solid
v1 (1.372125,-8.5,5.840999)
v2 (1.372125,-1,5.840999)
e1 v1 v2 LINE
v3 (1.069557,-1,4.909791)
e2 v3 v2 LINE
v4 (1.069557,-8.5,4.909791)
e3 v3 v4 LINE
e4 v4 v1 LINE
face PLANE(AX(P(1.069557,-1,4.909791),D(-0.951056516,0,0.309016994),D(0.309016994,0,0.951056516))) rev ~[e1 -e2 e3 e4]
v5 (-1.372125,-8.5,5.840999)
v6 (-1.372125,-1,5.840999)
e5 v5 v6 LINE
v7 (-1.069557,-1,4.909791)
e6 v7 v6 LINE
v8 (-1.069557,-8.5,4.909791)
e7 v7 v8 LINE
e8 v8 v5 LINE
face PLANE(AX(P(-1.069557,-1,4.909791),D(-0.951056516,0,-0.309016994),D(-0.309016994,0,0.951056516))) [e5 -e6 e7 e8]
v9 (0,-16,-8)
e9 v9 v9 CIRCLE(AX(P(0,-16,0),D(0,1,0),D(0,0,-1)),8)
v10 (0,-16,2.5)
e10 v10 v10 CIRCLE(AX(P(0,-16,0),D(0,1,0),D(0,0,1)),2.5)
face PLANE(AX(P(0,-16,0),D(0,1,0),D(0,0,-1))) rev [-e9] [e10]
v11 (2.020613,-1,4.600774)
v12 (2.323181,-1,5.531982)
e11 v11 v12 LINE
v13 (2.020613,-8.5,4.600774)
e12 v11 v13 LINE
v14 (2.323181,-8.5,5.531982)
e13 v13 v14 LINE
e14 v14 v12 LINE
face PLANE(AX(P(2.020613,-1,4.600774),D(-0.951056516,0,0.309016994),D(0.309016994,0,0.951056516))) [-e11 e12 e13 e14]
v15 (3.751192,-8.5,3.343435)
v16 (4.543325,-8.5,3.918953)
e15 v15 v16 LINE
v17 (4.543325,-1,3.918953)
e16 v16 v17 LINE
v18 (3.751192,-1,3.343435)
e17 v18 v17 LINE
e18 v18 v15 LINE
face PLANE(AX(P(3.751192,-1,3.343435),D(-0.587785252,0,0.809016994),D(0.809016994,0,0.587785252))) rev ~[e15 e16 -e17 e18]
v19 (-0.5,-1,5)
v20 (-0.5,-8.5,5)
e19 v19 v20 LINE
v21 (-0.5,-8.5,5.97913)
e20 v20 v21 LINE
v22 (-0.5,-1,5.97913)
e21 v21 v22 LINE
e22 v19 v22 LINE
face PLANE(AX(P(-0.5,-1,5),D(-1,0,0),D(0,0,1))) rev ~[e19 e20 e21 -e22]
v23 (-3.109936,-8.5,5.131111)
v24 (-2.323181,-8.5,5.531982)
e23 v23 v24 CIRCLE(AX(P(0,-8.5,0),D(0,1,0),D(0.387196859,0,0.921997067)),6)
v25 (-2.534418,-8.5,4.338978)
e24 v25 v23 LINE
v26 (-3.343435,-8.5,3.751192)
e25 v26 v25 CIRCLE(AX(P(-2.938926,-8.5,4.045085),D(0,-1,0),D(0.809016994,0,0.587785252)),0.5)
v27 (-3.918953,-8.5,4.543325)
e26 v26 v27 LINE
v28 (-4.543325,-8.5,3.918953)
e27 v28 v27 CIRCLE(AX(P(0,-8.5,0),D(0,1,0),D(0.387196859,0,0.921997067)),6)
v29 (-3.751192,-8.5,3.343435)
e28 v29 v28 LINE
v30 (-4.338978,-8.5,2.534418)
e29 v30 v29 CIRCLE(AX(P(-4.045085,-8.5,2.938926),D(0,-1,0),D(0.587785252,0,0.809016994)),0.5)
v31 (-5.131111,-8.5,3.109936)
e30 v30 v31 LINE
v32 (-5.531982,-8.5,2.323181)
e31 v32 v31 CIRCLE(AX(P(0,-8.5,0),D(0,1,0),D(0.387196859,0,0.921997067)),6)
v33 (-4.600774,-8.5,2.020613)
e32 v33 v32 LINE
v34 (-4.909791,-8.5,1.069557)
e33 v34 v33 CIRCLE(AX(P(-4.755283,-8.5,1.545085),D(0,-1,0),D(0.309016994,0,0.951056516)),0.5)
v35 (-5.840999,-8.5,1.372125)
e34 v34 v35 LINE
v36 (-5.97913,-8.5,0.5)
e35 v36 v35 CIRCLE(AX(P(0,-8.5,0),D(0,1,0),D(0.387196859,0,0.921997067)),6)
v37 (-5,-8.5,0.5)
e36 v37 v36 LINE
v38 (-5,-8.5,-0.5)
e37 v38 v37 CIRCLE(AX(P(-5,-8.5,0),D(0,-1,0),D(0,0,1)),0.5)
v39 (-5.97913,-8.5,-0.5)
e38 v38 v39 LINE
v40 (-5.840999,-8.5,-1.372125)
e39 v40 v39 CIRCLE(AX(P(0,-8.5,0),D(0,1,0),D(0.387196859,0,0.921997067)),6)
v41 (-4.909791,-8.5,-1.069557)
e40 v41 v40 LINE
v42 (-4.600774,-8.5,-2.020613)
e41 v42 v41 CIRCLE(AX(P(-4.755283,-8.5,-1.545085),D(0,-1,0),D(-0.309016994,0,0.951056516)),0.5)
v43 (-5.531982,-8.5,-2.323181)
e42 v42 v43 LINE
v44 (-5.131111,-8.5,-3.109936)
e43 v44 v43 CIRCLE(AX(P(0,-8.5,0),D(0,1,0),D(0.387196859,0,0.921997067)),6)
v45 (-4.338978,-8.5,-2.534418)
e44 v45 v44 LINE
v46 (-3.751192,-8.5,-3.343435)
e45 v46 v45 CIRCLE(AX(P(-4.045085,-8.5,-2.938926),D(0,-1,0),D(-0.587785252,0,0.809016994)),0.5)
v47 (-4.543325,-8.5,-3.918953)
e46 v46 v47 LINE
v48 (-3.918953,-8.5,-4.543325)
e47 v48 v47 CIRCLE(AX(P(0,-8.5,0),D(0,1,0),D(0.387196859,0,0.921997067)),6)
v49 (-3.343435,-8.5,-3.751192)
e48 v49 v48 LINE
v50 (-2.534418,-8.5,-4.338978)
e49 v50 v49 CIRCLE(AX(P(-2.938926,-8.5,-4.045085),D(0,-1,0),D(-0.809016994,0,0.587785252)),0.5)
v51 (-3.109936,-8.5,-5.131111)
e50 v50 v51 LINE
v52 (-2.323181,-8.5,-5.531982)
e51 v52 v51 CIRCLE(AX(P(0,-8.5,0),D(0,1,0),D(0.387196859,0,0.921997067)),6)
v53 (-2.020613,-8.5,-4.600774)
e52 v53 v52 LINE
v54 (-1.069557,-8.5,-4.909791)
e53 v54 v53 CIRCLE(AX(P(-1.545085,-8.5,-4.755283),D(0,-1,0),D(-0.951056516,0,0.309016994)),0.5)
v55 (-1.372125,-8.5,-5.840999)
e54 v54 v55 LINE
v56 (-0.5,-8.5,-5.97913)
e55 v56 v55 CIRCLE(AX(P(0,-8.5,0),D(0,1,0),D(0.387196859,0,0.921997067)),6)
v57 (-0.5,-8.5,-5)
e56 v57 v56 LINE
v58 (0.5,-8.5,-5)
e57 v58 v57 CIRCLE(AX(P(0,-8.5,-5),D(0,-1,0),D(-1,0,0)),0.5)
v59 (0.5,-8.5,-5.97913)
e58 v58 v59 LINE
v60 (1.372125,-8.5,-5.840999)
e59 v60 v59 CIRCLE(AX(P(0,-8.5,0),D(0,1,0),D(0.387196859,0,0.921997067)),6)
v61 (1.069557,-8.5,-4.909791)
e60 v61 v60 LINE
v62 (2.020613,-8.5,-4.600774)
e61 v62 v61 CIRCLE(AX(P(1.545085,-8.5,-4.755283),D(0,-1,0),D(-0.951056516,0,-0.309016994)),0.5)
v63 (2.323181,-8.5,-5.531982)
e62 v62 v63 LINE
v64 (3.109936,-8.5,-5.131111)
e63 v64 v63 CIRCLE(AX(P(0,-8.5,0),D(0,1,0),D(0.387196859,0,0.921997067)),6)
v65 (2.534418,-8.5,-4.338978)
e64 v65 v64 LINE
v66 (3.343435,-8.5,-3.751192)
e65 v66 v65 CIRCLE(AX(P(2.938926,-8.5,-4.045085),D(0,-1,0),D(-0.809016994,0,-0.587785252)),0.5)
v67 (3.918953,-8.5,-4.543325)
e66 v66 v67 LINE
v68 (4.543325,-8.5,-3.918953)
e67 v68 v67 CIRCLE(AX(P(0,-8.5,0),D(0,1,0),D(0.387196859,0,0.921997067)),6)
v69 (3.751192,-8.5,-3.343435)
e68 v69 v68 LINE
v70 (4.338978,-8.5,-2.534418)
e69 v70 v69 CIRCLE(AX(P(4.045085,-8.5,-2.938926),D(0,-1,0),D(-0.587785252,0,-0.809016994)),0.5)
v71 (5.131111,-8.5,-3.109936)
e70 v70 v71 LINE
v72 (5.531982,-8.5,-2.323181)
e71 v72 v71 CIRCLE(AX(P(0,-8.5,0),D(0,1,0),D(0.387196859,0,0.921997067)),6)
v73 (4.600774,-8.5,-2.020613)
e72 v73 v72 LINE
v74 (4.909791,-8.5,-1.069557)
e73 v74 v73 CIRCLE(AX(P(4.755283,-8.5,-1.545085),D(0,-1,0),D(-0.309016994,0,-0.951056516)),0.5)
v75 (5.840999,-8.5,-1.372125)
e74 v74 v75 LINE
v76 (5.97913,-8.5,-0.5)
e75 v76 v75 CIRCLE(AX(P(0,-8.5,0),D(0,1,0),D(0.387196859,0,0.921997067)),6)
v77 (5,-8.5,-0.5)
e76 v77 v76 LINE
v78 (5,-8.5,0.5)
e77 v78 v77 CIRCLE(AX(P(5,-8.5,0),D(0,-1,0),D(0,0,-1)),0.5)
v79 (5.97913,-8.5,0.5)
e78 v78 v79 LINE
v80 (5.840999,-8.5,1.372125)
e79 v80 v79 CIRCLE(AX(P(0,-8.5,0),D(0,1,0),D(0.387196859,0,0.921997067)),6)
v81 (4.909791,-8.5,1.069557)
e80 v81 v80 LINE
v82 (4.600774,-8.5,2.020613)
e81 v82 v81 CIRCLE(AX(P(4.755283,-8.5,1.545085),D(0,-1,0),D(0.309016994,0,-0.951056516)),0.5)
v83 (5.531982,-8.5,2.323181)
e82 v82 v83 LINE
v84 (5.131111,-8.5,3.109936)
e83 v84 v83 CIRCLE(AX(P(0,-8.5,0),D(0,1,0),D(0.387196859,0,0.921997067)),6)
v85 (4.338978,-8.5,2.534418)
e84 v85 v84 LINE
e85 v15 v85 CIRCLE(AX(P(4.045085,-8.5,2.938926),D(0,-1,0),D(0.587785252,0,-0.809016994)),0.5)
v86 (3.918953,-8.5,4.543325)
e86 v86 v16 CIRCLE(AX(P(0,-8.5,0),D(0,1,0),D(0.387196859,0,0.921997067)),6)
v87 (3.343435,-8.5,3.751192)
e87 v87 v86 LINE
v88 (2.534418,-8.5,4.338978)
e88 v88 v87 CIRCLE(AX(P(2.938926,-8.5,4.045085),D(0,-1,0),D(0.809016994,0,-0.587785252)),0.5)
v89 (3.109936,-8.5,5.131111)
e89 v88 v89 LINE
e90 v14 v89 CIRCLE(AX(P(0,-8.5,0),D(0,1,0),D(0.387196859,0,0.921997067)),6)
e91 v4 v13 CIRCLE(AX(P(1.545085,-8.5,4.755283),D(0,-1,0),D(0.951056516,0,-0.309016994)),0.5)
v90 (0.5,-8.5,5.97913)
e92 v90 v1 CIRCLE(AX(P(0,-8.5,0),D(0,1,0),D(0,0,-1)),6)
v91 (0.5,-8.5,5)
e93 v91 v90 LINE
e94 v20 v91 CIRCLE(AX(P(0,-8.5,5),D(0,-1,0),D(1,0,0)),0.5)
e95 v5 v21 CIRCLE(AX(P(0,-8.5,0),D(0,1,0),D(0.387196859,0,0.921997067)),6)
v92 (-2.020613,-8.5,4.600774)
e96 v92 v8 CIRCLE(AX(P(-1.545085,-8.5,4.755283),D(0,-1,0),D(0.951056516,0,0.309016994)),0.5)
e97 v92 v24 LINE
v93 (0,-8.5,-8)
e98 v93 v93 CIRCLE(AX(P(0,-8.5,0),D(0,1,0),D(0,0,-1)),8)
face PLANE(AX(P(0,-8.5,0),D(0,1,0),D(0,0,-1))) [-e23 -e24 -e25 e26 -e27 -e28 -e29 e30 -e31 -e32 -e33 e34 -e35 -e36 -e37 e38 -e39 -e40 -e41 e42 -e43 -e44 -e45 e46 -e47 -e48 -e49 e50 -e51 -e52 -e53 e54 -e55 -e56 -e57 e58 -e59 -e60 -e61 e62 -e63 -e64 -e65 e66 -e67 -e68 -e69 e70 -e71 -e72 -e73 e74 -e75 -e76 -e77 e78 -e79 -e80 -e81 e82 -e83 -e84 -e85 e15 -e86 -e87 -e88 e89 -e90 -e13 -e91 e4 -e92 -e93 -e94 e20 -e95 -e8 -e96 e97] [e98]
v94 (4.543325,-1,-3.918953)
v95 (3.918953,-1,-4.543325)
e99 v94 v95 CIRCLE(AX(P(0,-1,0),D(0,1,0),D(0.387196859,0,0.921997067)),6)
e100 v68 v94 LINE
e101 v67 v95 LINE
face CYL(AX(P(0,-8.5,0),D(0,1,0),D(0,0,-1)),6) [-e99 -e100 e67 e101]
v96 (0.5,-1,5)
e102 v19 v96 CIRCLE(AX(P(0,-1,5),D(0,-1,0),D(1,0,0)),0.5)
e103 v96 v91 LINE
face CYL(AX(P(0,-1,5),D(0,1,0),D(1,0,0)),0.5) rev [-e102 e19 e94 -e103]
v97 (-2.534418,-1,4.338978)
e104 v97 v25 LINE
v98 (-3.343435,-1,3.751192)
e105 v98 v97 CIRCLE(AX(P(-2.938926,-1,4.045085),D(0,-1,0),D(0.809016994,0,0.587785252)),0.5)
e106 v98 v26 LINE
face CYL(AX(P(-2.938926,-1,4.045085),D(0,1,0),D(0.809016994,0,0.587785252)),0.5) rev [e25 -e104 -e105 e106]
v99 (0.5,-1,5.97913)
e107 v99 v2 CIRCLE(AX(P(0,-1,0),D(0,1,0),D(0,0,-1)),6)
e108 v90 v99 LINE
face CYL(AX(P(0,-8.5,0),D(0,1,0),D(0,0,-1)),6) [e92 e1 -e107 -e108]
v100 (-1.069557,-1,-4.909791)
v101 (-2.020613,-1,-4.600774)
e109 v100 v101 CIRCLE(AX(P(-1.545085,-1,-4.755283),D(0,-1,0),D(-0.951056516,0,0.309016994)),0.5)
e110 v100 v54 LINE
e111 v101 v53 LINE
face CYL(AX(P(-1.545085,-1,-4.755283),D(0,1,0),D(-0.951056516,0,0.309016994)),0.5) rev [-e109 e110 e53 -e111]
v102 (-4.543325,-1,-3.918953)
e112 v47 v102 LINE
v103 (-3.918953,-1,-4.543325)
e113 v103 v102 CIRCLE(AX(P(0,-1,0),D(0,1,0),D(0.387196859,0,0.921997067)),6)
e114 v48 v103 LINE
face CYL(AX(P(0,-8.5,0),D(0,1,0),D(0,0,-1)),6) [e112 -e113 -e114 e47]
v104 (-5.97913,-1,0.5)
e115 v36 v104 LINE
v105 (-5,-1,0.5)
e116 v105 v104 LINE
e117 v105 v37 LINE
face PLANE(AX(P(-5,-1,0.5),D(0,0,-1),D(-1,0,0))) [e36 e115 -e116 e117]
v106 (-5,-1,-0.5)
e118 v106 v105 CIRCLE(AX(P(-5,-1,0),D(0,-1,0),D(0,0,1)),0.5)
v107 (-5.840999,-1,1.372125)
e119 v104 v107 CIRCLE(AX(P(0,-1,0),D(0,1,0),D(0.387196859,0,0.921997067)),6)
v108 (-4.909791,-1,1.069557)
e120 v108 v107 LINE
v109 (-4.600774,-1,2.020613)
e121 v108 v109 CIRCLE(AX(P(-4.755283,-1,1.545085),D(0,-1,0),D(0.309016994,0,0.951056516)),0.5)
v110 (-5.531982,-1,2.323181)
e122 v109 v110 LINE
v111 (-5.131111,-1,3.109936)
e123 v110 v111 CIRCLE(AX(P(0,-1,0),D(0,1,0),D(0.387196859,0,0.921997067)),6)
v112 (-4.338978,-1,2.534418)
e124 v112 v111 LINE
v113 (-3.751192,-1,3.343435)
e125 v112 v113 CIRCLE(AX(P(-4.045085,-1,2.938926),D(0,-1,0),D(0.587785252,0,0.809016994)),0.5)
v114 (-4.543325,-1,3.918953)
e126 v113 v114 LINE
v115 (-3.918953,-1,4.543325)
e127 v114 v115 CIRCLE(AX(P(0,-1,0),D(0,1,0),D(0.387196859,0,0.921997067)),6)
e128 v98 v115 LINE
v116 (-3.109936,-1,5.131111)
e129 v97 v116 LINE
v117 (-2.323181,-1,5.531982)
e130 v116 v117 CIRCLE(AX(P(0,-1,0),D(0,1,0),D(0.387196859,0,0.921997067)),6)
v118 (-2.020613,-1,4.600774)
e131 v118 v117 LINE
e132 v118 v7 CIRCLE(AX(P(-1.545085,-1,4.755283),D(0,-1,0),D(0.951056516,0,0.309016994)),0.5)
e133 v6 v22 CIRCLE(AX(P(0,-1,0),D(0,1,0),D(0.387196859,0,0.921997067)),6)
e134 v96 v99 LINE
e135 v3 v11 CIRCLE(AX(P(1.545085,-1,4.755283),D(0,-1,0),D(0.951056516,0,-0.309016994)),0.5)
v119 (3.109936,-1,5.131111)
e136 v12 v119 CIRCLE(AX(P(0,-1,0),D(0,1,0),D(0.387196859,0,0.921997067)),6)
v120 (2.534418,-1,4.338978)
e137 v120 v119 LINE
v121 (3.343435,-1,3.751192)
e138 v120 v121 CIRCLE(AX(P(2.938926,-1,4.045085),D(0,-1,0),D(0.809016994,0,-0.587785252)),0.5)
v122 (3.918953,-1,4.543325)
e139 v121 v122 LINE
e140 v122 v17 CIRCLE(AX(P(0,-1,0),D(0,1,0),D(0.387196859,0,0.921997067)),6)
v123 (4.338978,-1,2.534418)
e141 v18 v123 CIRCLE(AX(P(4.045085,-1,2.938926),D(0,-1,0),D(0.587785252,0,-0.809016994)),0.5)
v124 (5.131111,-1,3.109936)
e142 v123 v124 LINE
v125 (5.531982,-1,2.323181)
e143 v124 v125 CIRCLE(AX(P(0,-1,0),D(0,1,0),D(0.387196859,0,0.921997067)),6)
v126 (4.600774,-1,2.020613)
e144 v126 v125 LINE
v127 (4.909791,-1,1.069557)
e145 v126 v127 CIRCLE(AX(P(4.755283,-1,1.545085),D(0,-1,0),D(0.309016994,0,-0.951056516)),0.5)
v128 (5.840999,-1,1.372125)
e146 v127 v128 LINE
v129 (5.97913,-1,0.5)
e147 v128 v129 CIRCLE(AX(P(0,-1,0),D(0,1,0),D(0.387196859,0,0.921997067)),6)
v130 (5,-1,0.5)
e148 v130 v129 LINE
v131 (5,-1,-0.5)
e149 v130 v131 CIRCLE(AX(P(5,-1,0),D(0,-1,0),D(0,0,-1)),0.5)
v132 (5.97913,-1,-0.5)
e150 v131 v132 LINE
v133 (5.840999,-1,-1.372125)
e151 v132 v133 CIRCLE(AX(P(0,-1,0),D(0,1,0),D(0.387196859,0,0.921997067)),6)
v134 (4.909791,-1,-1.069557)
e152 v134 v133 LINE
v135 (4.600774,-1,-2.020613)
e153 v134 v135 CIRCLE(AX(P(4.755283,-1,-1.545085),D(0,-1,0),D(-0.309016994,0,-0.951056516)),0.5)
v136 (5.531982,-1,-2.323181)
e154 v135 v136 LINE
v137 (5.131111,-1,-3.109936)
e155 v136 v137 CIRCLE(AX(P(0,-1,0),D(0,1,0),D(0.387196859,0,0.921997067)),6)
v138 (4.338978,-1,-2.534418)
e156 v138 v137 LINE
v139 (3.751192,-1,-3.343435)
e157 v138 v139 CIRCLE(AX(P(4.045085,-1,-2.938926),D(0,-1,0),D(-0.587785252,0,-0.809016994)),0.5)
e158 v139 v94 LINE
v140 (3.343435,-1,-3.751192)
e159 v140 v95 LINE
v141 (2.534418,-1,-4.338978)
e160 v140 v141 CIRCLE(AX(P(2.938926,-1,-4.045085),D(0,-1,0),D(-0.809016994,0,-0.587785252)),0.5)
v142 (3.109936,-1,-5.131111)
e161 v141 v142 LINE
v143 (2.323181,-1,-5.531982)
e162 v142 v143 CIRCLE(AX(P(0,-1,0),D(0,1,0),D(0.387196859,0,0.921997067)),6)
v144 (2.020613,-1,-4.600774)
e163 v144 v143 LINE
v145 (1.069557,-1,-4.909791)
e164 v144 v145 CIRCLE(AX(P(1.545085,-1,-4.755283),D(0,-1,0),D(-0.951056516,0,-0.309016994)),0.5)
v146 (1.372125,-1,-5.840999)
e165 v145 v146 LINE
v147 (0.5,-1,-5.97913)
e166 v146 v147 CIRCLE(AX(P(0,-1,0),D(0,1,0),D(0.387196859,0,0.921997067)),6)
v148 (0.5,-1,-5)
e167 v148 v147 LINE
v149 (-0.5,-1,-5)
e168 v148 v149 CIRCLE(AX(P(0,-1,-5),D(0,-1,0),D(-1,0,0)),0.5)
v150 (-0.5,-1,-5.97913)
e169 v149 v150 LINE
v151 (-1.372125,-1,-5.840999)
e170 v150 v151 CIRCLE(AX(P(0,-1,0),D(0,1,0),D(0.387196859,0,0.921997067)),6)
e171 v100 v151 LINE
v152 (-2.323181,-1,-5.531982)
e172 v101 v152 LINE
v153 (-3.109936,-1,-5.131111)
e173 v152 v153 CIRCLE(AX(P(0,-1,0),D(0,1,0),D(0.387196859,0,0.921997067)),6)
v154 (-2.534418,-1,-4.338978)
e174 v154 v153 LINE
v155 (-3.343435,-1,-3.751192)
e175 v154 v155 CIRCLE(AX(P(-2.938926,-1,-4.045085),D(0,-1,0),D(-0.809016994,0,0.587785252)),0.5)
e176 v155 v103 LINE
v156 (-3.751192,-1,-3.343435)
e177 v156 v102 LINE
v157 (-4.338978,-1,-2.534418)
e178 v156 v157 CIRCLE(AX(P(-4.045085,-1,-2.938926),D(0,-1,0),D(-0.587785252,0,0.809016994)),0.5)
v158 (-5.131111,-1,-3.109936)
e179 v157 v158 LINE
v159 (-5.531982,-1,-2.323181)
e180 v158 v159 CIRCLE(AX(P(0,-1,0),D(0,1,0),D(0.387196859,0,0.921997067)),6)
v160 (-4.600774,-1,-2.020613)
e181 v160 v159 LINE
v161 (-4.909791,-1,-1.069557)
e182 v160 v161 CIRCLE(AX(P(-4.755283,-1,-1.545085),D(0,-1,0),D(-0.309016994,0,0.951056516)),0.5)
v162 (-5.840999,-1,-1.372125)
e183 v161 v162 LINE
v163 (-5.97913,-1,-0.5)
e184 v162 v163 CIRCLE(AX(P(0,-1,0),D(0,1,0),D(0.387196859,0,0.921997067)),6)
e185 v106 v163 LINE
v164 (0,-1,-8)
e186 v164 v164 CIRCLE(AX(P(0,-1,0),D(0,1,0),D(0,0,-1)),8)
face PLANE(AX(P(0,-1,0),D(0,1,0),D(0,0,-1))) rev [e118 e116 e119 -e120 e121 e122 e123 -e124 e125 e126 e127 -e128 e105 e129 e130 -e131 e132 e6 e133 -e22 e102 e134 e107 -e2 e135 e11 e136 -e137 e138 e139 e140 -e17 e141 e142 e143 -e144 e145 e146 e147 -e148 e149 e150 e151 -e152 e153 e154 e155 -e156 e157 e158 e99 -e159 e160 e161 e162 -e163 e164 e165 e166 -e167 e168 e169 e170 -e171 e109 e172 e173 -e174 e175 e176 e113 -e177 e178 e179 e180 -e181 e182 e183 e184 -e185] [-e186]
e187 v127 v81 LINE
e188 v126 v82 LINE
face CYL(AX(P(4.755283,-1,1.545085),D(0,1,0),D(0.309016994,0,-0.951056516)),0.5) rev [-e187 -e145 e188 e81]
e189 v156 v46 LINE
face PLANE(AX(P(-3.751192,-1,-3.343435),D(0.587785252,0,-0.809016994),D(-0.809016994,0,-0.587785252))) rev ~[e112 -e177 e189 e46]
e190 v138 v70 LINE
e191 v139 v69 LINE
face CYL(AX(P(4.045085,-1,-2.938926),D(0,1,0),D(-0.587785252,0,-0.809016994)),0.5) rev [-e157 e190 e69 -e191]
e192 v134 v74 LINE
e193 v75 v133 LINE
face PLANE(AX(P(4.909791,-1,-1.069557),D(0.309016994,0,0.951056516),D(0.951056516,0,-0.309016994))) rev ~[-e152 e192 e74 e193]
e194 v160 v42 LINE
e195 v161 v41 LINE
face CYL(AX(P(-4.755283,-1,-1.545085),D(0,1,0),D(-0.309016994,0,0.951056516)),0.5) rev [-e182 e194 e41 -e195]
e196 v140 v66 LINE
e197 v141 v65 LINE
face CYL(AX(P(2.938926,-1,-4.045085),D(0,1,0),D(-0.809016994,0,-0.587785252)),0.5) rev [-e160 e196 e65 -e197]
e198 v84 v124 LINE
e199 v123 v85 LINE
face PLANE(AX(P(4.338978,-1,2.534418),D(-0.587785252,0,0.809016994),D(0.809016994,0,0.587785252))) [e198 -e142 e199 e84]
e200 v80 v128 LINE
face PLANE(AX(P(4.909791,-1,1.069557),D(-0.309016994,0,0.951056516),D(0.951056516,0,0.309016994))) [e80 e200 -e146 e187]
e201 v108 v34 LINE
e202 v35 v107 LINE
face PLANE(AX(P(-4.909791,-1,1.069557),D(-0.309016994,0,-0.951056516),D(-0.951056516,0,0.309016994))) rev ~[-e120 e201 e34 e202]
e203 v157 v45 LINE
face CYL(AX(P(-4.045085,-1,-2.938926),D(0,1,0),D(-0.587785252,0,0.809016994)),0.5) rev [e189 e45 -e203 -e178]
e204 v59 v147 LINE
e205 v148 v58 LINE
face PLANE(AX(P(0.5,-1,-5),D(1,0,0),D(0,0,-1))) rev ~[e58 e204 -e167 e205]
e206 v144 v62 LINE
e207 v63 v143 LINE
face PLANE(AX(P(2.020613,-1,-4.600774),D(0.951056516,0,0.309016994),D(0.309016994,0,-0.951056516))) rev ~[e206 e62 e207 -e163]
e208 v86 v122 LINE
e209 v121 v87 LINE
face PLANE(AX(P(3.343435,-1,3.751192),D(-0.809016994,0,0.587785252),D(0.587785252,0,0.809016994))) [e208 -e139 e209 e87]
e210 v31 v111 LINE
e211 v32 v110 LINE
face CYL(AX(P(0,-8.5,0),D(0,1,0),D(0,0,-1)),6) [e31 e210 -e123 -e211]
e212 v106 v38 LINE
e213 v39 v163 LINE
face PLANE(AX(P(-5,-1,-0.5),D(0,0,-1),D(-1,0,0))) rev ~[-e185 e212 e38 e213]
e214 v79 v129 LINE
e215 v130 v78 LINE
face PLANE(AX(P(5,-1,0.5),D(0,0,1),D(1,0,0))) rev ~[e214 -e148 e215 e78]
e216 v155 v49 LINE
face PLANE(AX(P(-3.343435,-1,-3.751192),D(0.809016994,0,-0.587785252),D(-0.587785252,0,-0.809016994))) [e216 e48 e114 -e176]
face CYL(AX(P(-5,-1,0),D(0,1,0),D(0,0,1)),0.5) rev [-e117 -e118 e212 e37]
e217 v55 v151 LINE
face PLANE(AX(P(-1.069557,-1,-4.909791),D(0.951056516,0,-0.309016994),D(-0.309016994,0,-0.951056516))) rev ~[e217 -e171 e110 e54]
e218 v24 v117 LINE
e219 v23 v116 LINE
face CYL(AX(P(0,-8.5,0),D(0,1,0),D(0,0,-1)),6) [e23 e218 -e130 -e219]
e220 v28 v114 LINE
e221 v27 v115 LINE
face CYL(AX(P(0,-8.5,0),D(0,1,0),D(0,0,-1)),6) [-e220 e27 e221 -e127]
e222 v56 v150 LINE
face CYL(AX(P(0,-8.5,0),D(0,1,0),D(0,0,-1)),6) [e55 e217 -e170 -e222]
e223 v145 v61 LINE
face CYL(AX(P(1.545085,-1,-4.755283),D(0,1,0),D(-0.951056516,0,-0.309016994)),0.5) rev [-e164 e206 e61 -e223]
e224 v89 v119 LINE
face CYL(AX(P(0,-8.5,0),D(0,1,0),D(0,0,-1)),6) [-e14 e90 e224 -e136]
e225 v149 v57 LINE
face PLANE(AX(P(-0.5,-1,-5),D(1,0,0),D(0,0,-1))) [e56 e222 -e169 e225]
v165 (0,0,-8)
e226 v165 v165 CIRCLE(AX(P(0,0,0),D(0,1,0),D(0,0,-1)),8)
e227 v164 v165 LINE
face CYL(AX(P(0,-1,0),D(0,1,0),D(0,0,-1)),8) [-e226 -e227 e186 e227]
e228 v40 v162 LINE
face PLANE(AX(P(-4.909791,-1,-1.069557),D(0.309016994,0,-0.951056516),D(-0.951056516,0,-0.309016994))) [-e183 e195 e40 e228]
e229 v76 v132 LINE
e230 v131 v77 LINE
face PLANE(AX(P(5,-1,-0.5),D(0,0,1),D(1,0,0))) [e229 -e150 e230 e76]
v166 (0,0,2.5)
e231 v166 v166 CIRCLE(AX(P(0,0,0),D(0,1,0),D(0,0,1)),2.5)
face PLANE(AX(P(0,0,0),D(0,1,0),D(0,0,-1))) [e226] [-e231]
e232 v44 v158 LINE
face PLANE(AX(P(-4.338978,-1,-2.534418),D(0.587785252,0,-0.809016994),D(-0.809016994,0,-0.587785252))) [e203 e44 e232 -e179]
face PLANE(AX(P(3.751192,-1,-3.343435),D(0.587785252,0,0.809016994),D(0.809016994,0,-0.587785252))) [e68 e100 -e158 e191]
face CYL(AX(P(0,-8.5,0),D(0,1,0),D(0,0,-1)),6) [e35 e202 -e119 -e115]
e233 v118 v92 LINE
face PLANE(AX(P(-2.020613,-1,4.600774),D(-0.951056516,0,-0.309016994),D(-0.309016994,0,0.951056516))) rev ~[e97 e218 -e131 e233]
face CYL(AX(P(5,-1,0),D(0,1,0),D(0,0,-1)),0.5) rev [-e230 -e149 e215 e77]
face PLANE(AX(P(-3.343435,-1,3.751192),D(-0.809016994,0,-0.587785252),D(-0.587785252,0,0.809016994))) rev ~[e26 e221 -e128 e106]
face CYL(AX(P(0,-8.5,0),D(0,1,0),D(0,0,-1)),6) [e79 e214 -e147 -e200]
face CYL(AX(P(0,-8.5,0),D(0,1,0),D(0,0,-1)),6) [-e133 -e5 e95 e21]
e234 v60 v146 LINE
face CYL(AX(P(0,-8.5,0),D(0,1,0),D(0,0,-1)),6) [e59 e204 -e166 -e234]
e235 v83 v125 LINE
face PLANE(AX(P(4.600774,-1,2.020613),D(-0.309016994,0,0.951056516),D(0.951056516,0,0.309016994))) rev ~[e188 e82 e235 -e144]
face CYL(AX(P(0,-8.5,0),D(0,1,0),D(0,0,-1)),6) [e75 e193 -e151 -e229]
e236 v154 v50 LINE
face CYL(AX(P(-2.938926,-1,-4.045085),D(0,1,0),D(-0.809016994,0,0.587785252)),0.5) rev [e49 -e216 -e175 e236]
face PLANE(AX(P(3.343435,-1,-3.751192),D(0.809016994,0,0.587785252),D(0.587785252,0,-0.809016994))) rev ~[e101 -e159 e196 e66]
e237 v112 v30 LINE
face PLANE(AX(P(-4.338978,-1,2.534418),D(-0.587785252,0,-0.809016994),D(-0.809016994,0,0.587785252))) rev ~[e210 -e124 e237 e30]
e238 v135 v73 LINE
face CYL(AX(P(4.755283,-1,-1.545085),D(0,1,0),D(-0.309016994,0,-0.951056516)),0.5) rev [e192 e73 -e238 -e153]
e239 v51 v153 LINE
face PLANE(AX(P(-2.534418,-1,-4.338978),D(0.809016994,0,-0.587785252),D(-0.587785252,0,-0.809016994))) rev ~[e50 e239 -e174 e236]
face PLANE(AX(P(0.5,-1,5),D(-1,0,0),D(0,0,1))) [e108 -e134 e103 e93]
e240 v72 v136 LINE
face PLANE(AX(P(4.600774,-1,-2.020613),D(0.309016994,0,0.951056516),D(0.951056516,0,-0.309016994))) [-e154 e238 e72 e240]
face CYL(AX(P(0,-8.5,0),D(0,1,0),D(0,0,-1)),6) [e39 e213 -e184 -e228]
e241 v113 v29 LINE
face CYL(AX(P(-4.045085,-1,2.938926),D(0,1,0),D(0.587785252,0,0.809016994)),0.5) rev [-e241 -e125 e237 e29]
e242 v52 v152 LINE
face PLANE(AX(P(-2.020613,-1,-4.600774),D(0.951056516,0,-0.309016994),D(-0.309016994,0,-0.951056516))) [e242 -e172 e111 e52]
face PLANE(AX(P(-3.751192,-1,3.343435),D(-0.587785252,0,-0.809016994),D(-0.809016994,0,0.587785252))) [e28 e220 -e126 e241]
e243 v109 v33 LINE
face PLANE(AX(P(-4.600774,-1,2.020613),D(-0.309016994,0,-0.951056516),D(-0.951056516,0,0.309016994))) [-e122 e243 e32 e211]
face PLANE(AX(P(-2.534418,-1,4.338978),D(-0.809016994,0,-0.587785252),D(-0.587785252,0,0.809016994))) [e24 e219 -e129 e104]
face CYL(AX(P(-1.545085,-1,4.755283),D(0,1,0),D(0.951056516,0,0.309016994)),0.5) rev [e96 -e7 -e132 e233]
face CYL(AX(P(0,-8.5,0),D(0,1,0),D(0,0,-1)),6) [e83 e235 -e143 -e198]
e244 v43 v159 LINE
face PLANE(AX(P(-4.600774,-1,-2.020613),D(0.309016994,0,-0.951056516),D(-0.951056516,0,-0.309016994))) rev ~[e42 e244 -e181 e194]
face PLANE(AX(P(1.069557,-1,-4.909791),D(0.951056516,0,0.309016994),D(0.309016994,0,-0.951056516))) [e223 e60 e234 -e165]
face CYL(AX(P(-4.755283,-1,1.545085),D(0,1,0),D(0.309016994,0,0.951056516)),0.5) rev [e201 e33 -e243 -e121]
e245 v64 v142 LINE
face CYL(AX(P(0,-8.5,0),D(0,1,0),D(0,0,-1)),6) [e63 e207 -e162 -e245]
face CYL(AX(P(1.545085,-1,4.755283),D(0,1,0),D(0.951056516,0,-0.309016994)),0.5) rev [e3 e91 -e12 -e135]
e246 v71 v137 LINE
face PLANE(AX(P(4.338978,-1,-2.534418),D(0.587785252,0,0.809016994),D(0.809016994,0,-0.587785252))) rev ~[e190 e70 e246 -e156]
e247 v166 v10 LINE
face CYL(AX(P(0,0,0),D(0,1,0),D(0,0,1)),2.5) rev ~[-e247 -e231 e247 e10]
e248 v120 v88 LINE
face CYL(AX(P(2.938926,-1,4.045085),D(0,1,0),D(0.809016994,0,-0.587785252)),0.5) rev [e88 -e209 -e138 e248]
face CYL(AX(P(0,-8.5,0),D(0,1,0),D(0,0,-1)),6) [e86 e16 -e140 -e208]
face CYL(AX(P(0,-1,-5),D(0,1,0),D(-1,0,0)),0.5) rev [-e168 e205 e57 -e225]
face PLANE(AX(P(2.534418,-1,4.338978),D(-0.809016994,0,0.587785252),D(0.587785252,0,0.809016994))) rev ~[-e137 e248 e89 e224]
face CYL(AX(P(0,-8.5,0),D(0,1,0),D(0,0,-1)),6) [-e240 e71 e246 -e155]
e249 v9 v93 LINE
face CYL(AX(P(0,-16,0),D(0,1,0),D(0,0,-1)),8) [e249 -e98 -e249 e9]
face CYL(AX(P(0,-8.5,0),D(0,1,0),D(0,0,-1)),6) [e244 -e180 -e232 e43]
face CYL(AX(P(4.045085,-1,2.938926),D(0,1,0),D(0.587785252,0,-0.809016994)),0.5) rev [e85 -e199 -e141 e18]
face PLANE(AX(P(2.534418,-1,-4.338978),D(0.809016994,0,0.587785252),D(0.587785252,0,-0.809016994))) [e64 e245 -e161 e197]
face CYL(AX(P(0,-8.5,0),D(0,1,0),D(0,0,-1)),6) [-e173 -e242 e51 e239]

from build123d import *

# Parameters (mm, degrees)
SKETCH_2_R               = 0.5
SKETCH_2_W               = 1
SKETCH_2_H               = 4
CUT_EXTRUDE_1_DEPTH      = 7.5
PATTERN_CIRCULAR_1_COUNT = 20
SKETCH_3_R               = 2.5
CUT_EXTRUDE_2_DEPTH      = 20.595917942


with BuildPart() as part:
    # 草图1 → 旋转3 (revolve)
    with BuildSketch(Plane.XY, mode=Mode.PRIVATE) as revolve_3_sk:
        Polygon((-8, 0), (0, 0), (0, -16), (-8, -16), (-8, -8.5), (-6, -8.5), (-6, -1), (-8, -1), align=None)
    revolve(revolve_3_sk.sketch.rotate(Axis((0, 0, 0), (0, 1, 0)), 270), axis=Axis((0, 0, 0), (0, 1, 0)))

    # 草图2 → 切除-拉伸1 (cut)
    with BuildSketch(Plane.XZ.offset(1)):
        with Locations((0, 5)):
            Circle(SKETCH_2_R)
        with Locations((0, 7)):
            Rectangle(SKETCH_2_W, SKETCH_2_H)
    cut_extrude_1 = extrude(amount=CUT_EXTRUDE_1_DEPTH, mode=Mode.SUBTRACT)

    # 阵列(圆周)1: 切除-拉伸1 ×20 about axis
    pattern_circular_1_axis = Axis((0, 0, 0), (0, 1, 0))
    for i in range(1, PATTERN_CIRCULAR_1_COUNT):
        add(cut_extrude_1.rotate(pattern_circular_1_axis, i * 360 / PATTERN_CIRCULAR_1_COUNT), mode=Mode.SUBTRACT)

    # 草图3 → 切除-拉伸2 (cut, through all)
    with BuildSketch(Plane(origin=(0, 0, 0), x_dir=(1, 0, 0), z_dir=(0, 1, 0))):
        with Locations(Location((0, 0, 0), (0, 0, 270))):
            Circle(SKETCH_3_R)
    extrude(amount=-CUT_EXTRUDE_2_DEPTH, mode=Mode.SUBTRACT)


solid = part.part
